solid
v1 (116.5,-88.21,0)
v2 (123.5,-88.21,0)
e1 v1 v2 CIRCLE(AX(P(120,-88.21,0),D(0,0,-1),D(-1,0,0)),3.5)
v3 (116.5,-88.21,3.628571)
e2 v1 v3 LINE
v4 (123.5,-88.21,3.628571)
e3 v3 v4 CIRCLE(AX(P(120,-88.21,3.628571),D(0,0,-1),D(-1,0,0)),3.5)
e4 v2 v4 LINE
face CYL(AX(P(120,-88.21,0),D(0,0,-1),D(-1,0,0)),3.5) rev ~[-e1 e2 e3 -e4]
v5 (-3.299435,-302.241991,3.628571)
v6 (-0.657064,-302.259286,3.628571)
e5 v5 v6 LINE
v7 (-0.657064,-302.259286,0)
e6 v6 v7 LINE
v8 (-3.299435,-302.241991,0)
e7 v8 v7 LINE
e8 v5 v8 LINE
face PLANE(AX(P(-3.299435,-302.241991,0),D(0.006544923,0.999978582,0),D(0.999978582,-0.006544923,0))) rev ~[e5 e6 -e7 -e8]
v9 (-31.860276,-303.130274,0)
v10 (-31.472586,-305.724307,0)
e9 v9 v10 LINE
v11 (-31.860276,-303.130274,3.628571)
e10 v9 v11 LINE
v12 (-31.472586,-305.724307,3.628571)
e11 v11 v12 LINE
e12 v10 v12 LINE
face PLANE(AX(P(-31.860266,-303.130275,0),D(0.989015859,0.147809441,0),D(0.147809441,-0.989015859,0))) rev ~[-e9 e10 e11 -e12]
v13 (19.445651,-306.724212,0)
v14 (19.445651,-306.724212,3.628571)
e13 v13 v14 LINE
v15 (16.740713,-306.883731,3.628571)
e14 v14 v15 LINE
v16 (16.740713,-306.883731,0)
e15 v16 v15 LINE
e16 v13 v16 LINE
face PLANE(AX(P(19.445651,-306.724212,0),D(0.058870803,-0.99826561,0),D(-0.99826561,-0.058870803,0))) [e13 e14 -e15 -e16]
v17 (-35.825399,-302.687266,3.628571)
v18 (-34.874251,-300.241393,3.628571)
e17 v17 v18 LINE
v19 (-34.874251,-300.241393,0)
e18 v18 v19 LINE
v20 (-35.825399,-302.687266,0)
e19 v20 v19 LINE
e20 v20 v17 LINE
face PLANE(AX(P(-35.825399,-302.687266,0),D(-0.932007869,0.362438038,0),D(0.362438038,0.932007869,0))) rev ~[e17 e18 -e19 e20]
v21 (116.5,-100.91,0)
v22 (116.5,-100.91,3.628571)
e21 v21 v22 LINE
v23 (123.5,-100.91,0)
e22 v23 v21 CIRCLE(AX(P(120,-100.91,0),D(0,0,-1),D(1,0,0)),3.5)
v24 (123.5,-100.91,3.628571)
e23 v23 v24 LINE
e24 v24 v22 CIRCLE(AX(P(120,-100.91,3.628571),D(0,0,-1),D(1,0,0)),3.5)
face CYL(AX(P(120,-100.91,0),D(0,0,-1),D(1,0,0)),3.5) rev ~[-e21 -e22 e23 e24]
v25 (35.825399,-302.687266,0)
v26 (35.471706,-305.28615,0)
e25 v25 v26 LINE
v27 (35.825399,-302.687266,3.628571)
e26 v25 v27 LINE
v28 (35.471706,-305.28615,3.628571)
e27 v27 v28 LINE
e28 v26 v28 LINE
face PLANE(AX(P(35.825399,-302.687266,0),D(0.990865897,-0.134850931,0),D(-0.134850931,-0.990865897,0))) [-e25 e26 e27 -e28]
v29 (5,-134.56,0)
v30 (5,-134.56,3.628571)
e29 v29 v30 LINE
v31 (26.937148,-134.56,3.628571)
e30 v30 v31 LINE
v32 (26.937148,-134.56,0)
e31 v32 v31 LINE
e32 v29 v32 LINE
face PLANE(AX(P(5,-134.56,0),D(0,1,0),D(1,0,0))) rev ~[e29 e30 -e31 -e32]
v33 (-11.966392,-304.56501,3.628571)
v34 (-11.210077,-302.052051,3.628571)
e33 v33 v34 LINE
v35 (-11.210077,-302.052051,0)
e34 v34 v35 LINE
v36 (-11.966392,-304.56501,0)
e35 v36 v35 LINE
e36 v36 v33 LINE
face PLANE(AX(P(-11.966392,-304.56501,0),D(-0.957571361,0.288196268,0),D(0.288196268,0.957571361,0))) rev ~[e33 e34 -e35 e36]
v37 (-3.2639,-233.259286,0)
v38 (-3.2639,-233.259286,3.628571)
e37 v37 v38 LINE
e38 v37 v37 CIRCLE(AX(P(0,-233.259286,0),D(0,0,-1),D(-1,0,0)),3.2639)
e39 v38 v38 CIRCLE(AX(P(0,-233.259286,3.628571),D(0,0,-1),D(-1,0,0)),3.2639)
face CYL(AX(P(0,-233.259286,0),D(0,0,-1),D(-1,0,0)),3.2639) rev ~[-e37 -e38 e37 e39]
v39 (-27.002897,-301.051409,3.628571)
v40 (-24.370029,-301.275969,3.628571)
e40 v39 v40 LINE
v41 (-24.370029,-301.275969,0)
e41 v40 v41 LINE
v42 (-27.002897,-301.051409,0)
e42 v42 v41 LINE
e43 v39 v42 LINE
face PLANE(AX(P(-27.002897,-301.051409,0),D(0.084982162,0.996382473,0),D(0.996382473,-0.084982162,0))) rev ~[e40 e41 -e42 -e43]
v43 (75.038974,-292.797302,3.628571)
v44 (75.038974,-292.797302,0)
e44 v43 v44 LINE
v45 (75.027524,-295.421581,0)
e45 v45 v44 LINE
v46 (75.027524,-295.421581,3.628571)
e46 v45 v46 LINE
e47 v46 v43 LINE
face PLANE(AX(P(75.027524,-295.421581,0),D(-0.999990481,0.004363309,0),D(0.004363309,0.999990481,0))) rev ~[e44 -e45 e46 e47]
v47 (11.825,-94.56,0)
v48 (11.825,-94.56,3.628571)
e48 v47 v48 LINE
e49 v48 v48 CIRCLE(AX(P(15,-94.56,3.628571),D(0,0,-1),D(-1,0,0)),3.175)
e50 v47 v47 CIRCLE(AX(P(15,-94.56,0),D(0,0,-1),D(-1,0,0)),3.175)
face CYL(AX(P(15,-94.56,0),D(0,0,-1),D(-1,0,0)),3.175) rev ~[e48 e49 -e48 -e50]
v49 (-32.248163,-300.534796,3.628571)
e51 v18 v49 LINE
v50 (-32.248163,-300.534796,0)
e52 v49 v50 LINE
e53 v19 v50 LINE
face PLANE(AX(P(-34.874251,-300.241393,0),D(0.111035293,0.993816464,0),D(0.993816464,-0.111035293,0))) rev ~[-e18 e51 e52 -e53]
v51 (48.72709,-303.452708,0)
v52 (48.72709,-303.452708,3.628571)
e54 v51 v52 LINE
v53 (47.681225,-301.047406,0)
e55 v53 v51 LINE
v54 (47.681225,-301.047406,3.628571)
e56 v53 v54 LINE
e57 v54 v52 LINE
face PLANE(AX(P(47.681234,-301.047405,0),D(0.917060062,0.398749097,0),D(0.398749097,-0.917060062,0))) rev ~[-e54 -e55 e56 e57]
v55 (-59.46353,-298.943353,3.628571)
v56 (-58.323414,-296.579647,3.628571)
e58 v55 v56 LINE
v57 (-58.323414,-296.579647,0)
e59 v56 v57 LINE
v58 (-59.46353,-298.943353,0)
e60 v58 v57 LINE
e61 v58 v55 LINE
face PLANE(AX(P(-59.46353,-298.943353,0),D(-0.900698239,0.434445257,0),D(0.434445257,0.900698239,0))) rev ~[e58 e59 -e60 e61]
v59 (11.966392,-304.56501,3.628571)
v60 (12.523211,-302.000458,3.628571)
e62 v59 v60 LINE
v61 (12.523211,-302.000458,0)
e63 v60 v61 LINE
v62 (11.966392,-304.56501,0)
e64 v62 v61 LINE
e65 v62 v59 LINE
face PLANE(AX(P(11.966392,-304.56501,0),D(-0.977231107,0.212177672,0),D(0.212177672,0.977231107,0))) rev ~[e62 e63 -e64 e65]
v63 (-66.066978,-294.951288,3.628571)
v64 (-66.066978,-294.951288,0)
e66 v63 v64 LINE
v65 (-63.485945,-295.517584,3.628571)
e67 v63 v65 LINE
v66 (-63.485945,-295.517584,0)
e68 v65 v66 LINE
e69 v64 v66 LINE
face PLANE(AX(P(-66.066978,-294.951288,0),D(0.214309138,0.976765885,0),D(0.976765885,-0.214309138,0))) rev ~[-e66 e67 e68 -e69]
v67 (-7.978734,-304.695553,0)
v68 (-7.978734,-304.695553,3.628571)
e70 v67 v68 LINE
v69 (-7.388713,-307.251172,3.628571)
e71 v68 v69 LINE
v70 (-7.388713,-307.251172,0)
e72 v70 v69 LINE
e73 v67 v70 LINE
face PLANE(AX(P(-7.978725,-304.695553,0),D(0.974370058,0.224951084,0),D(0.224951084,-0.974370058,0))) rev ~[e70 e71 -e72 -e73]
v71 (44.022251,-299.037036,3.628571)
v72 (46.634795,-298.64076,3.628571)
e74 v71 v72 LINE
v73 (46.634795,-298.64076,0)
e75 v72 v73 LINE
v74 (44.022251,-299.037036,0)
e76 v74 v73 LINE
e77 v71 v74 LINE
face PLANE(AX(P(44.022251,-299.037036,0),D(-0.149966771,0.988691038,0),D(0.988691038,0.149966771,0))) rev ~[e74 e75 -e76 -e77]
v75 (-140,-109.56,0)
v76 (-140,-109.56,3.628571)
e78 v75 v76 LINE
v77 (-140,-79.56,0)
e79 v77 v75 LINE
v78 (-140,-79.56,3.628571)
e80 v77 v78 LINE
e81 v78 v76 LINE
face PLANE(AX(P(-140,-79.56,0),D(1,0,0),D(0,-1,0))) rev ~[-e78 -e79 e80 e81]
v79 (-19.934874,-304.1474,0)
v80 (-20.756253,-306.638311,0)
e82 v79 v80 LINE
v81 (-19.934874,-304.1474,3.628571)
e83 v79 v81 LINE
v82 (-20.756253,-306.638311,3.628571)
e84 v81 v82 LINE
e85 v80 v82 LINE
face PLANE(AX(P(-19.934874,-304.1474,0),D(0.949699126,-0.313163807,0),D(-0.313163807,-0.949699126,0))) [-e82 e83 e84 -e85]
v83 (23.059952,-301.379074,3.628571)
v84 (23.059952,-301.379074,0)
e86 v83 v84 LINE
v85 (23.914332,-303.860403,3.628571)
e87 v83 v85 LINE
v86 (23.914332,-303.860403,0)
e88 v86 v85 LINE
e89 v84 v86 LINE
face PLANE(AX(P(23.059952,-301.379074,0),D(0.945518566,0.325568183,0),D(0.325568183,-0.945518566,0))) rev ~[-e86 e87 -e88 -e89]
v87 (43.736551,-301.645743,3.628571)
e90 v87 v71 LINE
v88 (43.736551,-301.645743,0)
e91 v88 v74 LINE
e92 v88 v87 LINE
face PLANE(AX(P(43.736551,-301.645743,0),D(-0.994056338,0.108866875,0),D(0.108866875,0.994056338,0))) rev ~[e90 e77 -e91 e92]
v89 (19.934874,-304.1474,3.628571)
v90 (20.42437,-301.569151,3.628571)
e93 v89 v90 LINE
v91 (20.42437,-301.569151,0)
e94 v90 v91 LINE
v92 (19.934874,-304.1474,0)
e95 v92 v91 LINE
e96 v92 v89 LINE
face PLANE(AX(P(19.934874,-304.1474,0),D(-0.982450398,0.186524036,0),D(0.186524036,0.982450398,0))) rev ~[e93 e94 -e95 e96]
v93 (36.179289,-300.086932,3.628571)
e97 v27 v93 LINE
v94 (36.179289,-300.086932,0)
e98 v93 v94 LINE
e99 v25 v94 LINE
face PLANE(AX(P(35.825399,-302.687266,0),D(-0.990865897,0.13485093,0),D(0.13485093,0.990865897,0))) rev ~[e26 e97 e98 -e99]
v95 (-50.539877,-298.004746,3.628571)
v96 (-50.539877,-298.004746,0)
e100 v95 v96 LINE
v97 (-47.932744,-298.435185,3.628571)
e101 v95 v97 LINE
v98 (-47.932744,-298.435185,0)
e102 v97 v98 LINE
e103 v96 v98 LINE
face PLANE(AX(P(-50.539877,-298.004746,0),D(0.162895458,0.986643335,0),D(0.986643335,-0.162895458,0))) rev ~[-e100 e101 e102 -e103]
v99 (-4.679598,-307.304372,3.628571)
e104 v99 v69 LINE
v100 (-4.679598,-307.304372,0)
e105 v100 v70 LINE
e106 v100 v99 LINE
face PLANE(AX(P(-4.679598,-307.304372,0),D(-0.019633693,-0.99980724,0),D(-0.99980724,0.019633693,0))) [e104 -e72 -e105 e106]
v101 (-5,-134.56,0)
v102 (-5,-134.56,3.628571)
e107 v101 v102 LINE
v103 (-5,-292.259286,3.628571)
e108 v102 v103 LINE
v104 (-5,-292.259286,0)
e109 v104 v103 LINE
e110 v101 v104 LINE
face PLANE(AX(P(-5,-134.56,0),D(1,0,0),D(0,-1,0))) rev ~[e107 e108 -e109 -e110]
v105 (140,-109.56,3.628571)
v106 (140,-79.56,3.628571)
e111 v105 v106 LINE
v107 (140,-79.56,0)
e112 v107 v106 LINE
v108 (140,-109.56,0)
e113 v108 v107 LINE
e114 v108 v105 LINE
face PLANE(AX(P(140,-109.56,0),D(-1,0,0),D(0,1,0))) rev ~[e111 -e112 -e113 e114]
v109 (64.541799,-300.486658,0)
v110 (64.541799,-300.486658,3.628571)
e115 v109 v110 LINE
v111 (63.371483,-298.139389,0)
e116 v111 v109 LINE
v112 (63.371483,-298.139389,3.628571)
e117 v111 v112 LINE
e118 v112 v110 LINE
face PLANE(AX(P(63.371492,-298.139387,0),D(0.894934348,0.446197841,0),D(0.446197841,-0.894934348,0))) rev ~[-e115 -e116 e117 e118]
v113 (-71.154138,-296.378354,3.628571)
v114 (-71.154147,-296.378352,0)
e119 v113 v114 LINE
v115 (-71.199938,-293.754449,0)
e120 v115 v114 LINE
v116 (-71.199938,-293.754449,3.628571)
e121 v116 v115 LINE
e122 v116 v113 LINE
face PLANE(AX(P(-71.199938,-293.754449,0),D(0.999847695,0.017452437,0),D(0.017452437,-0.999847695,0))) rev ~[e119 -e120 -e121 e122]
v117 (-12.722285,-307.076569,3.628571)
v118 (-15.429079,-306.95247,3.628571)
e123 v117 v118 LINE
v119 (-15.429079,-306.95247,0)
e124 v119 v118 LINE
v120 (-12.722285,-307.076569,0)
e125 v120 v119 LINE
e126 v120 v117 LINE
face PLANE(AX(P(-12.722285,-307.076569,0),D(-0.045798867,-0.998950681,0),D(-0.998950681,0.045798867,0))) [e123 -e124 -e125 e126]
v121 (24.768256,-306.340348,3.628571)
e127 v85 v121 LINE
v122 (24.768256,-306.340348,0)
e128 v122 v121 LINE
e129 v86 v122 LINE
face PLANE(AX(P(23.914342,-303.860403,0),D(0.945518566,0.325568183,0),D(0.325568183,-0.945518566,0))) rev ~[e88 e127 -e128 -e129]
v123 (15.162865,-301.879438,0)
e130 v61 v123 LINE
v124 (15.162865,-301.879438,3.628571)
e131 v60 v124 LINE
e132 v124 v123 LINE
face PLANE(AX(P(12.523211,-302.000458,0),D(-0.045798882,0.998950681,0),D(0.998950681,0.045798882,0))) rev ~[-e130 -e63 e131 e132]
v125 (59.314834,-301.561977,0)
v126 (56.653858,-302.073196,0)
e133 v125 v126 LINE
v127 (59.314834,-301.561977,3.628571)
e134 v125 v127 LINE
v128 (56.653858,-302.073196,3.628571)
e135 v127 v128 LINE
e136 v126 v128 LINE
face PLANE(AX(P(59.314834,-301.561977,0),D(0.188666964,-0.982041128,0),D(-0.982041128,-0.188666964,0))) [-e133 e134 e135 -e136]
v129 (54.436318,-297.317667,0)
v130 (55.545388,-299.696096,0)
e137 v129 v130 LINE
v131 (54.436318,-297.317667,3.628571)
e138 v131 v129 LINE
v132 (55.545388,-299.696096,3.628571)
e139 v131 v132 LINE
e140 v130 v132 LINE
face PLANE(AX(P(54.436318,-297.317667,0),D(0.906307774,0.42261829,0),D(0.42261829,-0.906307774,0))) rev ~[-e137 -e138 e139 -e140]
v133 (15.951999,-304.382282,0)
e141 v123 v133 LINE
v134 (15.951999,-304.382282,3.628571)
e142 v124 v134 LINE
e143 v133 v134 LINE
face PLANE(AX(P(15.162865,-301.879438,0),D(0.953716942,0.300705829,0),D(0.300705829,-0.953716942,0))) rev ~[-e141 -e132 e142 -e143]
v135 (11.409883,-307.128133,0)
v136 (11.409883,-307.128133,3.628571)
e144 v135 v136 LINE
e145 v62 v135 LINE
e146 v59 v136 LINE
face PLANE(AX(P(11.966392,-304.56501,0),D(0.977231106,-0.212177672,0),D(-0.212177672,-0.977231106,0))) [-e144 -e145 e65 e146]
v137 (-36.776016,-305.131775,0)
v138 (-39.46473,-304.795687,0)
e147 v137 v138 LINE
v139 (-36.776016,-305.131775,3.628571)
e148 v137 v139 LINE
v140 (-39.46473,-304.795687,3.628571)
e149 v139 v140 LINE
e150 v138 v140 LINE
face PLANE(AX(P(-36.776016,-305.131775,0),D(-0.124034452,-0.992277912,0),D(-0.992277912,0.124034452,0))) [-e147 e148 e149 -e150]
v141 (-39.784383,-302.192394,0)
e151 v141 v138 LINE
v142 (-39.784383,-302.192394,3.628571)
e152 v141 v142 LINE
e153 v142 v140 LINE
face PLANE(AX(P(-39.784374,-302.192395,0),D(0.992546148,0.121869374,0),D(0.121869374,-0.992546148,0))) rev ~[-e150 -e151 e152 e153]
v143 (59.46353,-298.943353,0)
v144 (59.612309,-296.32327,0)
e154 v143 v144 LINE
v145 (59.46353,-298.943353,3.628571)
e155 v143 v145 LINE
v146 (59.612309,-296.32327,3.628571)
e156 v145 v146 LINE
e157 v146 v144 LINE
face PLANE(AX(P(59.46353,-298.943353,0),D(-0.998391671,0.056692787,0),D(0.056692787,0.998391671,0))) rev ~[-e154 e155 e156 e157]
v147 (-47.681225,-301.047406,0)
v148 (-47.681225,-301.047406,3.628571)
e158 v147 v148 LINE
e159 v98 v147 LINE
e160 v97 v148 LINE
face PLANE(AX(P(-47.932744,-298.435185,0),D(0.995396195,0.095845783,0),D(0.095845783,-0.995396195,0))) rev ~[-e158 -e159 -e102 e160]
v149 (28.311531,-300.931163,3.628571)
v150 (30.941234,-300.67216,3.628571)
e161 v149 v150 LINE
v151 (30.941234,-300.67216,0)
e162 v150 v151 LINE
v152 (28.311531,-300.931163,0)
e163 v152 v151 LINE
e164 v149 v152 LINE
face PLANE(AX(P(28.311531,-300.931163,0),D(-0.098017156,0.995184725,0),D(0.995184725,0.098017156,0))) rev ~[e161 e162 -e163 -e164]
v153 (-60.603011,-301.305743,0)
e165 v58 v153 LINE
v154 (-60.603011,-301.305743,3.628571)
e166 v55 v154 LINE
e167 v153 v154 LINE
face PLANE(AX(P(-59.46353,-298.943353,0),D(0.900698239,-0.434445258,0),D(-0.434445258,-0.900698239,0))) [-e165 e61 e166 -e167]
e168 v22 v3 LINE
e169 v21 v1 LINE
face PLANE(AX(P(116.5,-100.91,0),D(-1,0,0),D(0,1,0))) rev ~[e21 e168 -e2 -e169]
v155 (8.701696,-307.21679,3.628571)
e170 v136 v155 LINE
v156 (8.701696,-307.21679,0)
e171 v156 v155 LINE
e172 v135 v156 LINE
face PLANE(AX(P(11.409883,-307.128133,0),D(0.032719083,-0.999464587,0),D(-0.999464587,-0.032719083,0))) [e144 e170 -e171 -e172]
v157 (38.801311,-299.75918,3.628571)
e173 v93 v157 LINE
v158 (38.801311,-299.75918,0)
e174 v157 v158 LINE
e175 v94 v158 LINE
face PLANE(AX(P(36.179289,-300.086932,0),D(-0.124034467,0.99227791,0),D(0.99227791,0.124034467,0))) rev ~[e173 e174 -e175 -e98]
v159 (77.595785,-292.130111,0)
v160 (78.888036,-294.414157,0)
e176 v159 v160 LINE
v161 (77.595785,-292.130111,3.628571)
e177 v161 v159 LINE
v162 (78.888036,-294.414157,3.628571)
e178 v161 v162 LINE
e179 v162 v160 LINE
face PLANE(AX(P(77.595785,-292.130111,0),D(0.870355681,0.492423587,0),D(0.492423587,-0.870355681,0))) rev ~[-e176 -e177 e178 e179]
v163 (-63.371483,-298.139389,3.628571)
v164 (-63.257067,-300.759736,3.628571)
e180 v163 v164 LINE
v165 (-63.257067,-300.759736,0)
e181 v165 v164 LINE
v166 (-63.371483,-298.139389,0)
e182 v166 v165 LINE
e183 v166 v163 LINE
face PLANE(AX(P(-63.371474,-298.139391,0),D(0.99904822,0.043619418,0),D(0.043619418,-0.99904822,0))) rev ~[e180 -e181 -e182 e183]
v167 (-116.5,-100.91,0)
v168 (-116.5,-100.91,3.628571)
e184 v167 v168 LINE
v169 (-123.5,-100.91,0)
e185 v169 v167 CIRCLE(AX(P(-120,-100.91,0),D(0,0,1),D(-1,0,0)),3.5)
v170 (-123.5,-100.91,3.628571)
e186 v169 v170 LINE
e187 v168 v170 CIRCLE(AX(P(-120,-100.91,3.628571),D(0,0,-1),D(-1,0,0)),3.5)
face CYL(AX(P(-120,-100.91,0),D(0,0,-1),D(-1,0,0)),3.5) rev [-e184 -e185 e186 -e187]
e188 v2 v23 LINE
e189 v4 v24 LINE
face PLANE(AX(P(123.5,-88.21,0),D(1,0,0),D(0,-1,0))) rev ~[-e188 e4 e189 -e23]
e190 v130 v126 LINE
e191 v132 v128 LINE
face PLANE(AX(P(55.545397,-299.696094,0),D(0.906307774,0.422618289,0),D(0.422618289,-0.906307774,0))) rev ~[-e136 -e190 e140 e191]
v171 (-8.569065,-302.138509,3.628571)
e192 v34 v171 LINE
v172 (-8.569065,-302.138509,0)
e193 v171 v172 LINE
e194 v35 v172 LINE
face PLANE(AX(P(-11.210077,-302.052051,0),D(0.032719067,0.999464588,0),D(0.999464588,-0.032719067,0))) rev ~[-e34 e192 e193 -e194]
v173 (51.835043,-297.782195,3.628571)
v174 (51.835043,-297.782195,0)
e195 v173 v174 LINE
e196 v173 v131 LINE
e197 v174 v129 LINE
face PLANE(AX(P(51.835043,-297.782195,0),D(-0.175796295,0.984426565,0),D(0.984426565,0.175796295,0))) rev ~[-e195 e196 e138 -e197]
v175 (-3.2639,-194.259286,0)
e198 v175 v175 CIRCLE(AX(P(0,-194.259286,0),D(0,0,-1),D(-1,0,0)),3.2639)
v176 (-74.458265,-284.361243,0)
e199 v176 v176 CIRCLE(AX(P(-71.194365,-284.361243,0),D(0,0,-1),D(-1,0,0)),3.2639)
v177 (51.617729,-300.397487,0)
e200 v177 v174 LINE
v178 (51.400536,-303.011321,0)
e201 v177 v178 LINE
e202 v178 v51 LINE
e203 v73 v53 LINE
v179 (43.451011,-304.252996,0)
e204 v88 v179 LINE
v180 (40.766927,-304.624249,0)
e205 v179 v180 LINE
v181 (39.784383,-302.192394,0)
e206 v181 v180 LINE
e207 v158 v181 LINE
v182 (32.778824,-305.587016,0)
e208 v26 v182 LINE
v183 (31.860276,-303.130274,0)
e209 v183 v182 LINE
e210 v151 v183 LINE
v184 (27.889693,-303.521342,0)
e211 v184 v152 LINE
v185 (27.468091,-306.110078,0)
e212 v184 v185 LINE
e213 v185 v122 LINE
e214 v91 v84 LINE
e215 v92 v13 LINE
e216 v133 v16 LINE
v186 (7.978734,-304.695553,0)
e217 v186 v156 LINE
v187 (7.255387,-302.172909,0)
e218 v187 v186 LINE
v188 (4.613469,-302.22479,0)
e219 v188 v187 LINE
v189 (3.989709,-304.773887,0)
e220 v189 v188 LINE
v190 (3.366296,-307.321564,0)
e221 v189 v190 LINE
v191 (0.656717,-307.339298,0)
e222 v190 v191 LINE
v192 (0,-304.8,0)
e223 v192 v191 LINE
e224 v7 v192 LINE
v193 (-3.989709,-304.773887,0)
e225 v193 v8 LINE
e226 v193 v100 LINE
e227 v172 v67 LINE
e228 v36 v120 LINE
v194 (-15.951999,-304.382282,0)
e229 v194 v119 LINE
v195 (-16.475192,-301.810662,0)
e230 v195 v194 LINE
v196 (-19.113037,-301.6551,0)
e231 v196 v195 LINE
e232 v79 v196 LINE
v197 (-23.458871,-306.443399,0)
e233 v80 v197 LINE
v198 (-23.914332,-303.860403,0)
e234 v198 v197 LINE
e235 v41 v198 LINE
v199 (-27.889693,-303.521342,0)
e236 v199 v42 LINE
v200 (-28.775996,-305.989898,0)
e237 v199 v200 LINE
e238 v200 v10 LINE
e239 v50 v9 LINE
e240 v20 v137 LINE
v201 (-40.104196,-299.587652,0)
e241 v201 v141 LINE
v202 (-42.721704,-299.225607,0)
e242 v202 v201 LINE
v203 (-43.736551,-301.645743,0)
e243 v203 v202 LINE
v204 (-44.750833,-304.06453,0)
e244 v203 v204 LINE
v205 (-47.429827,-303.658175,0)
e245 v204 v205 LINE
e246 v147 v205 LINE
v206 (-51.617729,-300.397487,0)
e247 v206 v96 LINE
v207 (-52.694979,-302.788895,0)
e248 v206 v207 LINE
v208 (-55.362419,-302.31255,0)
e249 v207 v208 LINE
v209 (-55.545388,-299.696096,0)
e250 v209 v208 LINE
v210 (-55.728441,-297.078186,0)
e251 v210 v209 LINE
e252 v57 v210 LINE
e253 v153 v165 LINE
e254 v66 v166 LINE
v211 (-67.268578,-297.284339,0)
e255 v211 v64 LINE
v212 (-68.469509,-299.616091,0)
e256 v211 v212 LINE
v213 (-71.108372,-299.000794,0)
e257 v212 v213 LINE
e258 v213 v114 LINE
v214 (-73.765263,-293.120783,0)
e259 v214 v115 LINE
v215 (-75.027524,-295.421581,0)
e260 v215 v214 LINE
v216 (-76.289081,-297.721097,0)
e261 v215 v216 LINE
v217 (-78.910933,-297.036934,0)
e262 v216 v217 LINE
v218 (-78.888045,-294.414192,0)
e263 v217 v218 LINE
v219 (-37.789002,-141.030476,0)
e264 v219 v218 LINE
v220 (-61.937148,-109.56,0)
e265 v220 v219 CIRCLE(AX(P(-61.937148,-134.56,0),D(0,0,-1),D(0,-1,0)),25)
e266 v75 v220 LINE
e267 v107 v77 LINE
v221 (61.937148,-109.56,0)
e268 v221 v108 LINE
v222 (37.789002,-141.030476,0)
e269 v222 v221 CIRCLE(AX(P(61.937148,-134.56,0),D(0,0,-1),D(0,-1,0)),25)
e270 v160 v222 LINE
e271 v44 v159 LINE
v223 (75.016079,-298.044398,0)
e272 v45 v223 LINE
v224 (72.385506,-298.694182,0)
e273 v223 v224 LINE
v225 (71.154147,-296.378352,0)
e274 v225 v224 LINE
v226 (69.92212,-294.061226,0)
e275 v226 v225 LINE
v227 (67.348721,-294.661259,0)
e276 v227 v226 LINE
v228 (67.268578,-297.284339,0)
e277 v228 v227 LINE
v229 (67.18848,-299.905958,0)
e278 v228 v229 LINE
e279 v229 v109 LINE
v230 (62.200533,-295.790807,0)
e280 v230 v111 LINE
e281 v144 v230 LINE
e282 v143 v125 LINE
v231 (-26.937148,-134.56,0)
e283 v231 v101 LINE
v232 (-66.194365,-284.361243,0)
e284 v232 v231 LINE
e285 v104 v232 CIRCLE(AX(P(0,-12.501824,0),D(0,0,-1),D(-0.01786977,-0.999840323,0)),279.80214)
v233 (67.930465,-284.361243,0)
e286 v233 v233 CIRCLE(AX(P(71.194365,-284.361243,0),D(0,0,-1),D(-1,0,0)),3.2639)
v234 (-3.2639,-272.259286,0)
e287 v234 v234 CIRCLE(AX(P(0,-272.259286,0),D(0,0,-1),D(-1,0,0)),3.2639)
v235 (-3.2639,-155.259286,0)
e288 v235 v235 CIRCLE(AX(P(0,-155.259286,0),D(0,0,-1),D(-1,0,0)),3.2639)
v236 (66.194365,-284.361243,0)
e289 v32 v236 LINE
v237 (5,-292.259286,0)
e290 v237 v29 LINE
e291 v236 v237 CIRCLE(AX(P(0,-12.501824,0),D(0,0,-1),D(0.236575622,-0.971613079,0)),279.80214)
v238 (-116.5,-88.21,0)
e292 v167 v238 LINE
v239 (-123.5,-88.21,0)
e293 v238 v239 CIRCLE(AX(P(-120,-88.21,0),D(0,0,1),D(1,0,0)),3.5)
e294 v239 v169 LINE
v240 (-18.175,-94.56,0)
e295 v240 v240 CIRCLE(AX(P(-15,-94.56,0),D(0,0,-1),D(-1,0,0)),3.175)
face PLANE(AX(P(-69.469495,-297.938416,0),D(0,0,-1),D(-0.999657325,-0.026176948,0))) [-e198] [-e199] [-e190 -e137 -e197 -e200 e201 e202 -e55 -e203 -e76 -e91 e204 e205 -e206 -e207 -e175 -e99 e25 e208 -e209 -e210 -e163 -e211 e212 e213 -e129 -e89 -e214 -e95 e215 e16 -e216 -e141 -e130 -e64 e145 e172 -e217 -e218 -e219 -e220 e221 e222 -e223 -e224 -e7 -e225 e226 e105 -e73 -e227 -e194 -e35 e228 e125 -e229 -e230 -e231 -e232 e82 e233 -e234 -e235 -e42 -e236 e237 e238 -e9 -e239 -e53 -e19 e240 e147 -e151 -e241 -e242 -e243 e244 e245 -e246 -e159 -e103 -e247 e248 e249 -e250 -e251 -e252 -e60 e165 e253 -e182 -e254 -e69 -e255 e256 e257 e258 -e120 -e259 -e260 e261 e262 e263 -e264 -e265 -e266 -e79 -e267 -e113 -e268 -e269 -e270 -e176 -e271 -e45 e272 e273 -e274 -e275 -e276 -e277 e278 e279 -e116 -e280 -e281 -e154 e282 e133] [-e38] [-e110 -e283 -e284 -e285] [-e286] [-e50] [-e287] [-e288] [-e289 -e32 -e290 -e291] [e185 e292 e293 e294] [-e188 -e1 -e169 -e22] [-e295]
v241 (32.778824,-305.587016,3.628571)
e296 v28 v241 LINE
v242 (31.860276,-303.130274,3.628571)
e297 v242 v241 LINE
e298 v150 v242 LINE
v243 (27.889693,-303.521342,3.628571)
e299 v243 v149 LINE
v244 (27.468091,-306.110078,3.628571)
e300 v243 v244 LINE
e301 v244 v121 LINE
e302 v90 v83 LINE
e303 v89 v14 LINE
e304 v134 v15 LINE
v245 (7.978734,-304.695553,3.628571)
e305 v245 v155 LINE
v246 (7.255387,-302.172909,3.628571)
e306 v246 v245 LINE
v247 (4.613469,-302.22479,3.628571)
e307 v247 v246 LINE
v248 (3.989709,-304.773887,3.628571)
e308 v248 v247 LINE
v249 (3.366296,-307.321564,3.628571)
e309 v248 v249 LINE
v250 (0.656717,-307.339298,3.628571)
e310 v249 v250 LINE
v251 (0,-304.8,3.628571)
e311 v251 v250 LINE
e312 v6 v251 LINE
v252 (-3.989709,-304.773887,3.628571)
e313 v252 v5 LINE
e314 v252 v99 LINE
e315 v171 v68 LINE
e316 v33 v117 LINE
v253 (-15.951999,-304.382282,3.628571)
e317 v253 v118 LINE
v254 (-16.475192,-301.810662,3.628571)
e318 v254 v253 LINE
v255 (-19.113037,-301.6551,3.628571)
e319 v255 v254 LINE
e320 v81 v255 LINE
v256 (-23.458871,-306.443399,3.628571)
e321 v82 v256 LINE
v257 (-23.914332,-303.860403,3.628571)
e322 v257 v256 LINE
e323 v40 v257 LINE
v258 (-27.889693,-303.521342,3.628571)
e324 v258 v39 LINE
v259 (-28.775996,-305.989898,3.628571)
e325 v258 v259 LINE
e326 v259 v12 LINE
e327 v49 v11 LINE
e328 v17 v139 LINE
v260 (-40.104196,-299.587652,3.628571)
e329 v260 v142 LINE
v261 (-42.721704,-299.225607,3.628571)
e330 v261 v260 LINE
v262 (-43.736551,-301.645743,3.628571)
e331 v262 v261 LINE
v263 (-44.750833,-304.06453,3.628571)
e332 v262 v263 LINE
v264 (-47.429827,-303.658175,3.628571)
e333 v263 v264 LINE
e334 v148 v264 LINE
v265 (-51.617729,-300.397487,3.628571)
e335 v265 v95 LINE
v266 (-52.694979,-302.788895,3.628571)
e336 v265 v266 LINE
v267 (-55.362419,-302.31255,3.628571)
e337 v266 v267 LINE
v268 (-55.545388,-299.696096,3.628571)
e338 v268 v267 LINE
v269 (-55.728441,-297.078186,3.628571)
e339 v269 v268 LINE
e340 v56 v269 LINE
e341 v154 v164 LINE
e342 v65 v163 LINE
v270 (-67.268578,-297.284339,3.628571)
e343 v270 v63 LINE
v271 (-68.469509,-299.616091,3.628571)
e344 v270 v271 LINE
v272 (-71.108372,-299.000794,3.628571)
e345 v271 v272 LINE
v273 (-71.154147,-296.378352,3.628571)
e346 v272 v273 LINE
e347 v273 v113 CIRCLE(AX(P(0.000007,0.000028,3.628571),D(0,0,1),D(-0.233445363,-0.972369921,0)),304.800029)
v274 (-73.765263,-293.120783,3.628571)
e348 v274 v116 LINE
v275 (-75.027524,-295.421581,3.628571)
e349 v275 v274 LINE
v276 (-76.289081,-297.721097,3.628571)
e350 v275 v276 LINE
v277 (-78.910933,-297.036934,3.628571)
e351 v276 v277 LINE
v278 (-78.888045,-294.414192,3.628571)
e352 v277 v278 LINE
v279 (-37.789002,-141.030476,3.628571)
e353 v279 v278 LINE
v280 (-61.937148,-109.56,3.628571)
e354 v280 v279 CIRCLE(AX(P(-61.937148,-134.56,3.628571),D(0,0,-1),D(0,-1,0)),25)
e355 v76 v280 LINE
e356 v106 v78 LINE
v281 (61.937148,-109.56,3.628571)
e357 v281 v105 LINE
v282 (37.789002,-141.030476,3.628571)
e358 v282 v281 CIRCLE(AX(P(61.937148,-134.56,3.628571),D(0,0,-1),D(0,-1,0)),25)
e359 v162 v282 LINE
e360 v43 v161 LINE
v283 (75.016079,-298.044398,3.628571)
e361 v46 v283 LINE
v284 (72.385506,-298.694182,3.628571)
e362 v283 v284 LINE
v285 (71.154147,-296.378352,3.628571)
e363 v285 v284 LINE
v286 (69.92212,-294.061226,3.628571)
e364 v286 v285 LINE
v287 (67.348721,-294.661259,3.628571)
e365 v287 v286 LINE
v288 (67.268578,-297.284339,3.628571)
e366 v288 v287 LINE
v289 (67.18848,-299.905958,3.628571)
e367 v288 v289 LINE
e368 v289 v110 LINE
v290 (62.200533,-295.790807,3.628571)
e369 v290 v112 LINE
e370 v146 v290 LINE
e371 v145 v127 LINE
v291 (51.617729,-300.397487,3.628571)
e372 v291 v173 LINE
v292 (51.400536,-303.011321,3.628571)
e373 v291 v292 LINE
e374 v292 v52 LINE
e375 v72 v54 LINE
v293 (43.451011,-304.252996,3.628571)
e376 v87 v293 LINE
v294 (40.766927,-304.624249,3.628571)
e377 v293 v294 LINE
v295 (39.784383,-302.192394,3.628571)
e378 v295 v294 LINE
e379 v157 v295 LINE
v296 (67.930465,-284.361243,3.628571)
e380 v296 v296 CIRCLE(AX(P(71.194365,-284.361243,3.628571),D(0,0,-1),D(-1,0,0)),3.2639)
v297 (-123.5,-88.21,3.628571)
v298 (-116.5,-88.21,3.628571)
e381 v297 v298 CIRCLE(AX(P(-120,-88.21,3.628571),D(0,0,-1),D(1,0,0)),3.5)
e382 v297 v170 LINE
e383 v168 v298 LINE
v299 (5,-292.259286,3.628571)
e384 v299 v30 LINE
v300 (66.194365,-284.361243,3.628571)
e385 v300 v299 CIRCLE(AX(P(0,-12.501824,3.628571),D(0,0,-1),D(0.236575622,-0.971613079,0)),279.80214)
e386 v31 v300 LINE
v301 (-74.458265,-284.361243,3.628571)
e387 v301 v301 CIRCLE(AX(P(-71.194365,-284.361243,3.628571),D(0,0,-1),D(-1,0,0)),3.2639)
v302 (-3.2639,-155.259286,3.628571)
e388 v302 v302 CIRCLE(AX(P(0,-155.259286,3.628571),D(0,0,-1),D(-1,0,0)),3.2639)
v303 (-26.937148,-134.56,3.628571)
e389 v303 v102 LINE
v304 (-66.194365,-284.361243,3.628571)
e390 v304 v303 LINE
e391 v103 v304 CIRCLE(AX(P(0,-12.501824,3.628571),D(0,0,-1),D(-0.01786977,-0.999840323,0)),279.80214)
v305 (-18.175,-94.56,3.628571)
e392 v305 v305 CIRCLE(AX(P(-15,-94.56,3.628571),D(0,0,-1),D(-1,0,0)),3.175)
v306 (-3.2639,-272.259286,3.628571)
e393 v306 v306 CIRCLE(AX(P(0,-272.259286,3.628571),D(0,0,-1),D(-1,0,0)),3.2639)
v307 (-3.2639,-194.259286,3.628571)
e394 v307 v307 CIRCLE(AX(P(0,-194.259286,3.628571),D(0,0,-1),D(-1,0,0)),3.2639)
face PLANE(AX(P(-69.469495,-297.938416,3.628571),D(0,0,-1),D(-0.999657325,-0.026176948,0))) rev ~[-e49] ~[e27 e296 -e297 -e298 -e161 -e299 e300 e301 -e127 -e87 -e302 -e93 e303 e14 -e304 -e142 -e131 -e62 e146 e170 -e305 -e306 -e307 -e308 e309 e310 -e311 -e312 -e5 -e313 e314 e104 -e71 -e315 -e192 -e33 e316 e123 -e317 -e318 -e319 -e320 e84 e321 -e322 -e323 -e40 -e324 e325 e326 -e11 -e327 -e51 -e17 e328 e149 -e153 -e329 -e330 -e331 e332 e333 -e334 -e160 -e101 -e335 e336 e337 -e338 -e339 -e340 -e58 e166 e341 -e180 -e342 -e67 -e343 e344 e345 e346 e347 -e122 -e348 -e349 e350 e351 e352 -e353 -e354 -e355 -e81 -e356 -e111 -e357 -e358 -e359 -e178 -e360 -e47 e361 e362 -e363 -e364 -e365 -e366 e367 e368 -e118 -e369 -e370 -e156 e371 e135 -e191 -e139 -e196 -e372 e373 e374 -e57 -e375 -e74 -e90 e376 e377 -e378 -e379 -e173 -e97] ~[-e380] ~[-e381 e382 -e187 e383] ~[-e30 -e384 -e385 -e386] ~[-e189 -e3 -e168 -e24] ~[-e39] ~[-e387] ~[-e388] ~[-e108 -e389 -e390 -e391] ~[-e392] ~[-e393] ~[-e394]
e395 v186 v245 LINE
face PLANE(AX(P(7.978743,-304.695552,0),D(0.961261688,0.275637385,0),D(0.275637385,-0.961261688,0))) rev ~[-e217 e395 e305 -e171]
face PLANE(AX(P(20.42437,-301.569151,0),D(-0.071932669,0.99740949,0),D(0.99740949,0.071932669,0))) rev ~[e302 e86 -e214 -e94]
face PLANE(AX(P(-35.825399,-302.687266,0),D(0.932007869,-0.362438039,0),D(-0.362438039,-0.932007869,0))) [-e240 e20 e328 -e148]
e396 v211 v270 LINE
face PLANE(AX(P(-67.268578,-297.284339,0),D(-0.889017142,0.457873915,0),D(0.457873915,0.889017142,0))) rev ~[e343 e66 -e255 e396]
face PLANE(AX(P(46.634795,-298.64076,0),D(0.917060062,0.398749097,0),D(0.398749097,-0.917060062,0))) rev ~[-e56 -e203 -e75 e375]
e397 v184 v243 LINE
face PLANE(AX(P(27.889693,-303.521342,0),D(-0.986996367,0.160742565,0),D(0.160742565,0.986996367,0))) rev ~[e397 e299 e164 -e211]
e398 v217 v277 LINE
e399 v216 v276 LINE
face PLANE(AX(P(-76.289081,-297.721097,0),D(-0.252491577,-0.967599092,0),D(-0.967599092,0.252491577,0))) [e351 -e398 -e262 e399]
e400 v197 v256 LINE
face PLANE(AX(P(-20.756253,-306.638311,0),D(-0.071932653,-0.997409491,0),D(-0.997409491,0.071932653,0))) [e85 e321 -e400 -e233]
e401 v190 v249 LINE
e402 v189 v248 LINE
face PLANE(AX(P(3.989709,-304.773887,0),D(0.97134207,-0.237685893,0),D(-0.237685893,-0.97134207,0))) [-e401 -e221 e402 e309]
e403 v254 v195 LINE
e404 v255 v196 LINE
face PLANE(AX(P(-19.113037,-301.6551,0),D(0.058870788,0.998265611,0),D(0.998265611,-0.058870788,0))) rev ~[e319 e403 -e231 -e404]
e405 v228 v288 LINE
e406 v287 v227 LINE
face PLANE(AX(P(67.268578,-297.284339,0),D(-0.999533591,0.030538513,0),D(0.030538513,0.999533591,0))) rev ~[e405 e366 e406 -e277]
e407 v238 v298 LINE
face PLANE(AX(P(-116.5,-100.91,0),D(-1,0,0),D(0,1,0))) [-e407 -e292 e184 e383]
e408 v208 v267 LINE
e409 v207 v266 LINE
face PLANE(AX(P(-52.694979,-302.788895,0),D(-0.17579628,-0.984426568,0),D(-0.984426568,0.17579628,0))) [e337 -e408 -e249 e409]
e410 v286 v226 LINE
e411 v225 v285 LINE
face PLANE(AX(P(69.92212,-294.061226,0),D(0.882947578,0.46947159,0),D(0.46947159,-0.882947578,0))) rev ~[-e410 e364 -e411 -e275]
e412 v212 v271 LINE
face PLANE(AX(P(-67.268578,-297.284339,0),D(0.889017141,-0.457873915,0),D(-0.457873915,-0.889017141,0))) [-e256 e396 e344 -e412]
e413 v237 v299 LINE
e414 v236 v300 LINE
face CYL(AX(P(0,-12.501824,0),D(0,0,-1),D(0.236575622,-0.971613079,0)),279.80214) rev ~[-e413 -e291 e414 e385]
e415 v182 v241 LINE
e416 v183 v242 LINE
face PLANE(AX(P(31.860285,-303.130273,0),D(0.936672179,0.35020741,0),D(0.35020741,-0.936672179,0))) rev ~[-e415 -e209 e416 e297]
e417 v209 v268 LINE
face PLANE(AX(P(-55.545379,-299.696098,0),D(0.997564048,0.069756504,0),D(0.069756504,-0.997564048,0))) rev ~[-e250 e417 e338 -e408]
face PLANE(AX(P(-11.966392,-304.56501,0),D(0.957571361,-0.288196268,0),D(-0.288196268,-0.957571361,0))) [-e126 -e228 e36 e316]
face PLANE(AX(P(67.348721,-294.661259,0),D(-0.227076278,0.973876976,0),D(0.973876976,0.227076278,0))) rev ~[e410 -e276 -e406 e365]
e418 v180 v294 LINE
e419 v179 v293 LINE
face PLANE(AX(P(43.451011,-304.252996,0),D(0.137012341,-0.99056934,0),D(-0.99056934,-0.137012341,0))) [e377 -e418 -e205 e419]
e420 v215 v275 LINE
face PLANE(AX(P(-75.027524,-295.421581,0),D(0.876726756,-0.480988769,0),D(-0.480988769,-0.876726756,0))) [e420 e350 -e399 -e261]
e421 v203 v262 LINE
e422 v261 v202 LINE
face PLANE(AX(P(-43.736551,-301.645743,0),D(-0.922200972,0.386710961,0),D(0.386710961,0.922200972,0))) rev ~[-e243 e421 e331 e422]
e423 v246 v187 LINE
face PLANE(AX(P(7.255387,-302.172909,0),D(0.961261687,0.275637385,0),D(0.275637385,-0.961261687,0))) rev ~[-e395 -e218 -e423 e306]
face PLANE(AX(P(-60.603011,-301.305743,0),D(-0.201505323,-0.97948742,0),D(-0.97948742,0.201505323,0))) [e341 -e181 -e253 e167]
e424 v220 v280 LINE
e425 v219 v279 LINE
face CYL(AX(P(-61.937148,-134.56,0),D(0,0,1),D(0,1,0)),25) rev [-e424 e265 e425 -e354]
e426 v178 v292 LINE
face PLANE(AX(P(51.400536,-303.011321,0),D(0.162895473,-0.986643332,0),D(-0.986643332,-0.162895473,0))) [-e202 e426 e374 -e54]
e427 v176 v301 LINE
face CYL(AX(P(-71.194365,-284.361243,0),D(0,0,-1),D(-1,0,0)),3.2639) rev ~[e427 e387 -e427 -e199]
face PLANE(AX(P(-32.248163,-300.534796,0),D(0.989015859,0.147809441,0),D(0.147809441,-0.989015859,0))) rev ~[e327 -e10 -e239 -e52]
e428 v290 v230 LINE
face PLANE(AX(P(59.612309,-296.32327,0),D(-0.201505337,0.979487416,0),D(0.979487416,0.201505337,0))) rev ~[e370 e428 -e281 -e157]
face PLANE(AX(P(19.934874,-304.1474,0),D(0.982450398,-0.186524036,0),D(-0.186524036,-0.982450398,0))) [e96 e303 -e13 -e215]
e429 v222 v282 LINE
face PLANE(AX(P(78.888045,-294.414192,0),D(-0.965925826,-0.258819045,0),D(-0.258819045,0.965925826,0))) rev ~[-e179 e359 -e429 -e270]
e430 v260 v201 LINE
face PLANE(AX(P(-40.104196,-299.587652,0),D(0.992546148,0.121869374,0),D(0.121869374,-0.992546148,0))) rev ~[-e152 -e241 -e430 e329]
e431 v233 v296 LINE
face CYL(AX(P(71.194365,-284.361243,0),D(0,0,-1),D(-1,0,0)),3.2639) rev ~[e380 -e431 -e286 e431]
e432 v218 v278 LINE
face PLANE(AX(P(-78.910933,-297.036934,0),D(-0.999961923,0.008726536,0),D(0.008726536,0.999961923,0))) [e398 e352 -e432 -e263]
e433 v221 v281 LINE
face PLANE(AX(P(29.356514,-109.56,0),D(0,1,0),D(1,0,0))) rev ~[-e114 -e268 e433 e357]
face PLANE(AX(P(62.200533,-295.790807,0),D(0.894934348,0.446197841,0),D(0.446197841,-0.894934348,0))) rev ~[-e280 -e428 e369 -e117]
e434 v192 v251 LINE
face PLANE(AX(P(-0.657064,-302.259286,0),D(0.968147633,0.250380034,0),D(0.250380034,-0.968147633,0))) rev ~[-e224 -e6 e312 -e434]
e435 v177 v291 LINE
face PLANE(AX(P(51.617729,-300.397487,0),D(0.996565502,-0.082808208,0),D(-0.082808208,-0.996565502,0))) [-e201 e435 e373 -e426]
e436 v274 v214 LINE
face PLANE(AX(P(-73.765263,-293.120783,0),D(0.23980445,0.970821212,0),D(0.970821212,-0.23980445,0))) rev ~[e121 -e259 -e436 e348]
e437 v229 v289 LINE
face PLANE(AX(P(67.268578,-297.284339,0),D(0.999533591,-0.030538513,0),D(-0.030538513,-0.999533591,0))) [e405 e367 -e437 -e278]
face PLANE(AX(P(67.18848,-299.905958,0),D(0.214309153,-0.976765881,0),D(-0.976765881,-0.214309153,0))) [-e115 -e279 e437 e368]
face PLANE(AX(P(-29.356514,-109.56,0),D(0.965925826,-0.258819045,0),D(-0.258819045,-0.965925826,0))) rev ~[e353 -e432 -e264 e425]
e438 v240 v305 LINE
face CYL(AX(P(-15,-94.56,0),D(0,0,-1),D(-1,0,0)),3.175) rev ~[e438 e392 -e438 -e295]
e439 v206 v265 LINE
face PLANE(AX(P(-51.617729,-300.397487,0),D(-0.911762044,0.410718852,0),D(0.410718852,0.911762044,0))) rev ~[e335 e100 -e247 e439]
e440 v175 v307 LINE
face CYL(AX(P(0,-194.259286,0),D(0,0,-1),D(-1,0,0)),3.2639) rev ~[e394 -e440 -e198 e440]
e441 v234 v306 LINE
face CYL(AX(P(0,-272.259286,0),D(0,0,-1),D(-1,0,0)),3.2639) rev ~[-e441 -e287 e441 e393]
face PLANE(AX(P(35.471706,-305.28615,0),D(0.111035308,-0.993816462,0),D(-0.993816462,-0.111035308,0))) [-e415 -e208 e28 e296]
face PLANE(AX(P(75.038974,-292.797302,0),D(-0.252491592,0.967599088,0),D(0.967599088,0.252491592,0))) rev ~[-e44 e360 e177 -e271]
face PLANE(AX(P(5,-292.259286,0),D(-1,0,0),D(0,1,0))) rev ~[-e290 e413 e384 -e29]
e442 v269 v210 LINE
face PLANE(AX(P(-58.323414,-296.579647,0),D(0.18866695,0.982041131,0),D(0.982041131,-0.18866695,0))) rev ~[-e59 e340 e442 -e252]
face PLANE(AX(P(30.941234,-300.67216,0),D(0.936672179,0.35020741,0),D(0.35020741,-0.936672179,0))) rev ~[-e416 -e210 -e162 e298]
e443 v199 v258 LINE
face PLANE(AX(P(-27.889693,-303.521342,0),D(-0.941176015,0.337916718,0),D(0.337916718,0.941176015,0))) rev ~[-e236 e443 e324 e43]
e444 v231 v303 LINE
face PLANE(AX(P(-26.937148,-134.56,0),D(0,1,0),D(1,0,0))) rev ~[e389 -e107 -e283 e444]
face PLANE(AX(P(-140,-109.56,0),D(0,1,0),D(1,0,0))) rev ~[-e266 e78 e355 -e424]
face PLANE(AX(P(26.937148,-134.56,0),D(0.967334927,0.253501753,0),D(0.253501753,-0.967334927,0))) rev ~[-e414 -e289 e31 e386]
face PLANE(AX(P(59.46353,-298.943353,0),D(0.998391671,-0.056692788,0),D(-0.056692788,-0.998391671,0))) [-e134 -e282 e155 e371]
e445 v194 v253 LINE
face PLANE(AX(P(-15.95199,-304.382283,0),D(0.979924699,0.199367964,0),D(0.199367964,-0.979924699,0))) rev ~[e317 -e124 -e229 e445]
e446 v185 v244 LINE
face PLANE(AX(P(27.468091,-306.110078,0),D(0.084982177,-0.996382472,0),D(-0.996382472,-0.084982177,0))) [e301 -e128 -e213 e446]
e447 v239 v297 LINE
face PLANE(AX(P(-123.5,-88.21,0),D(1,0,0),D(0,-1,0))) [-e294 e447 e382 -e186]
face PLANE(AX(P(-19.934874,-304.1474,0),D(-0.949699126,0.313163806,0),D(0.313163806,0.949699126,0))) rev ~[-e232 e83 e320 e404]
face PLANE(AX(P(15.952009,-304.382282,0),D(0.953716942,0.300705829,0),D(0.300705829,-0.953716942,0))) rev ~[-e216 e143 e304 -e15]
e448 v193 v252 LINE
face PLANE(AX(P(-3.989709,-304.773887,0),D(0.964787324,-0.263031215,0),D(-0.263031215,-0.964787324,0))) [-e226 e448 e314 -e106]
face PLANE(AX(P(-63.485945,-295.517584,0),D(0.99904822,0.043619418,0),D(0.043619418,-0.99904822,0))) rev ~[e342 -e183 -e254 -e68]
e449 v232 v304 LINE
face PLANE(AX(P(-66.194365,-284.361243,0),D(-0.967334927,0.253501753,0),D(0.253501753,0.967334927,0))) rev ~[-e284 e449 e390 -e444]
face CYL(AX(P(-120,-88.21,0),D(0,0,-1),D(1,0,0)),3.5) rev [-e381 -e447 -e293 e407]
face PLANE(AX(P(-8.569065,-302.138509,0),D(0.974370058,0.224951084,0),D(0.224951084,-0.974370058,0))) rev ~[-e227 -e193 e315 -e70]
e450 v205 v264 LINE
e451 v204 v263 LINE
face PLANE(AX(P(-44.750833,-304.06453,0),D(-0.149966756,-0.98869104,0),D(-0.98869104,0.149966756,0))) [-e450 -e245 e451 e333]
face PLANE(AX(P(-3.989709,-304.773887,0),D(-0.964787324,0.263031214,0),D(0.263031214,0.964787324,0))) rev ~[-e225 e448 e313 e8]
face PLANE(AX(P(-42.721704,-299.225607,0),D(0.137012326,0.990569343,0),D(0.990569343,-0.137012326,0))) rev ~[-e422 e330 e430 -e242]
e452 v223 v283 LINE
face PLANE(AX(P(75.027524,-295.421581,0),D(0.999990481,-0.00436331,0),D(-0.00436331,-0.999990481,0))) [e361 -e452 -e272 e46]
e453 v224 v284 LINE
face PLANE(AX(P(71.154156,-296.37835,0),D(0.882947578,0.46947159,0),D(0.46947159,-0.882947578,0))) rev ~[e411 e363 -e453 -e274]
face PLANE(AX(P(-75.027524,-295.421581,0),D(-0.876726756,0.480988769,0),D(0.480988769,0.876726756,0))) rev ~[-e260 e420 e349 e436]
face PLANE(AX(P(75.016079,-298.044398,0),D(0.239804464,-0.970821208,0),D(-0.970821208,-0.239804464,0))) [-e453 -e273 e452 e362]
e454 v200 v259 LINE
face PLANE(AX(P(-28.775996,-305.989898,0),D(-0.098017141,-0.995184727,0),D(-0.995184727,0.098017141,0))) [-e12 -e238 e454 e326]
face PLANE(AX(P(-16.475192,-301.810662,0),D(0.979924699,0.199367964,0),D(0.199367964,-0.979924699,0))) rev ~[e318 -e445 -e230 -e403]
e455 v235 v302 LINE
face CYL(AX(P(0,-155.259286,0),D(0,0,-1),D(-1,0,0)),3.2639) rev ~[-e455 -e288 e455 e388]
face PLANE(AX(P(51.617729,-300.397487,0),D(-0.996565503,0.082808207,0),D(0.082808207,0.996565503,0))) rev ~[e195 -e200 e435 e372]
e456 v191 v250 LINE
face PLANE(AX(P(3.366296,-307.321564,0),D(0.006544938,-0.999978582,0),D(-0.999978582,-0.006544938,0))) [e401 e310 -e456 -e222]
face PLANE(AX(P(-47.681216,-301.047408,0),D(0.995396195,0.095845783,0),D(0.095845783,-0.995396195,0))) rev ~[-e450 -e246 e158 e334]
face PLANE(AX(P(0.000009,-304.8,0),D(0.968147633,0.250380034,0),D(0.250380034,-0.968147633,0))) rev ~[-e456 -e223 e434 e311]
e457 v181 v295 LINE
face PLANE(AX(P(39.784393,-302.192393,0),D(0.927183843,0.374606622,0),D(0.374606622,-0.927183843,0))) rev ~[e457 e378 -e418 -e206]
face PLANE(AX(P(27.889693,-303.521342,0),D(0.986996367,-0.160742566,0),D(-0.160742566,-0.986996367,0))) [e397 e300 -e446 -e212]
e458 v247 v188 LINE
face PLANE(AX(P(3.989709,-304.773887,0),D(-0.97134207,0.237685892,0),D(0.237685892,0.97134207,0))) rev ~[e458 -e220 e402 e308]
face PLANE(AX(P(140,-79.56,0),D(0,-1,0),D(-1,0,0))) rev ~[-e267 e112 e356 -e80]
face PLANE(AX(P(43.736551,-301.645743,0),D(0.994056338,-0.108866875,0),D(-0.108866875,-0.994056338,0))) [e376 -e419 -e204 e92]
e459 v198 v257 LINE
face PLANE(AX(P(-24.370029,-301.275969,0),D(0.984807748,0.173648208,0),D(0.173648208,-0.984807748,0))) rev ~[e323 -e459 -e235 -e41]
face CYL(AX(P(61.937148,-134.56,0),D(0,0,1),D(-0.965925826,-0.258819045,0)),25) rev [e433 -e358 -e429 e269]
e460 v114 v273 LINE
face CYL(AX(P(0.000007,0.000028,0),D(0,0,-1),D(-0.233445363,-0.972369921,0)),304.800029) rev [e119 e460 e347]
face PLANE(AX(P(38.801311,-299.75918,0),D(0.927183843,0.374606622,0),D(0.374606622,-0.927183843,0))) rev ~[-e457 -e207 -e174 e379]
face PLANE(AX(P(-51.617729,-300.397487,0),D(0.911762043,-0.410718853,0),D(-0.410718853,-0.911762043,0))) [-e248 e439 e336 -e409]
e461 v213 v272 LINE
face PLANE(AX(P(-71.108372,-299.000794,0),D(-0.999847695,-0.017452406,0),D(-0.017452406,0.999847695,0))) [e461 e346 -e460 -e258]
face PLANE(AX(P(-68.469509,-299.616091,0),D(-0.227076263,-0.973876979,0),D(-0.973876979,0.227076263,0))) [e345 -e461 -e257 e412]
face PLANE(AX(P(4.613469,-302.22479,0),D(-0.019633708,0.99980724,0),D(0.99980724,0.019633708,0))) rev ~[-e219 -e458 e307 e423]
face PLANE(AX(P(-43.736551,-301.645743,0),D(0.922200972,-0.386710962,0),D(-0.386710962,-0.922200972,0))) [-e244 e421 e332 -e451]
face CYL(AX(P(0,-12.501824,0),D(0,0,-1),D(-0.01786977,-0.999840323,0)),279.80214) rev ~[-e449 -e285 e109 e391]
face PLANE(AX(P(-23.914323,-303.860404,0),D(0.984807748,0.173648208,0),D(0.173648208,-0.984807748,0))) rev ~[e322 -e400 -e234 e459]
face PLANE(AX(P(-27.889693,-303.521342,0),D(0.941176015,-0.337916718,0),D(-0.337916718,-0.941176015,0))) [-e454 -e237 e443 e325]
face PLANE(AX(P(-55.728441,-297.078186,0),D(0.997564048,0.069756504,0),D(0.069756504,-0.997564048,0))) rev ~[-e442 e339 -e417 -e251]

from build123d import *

# Parameters (mm, degrees)
BOSS_EXTRUDE2_DEPTH = 3.628571429
FILLET1_R           = 25
BOSS_EXTRUDE4_DEPTH = 3.628571429
CUT_EXTRUDE2_DEPTH  = 336.434355024
CIRPATTERN8_COUNT   = 20
CIRPATTERN8_ANGLE   = 28.5
SKETCH5_R           = 3.175
CUT_EXTRUDE3_DEPTH  = 338.743409804
SKETCH17_R          = 3.2639
CUT_EXTRUDE4_DEPTH  = 338.743409804


with BuildPart() as part:
    # Sketch3 → Boss-Extrude2 (new body)
    with BuildSketch(Plane.XY):
        with BuildLine():
            Line((-140, -79.56), (-140, -109.56))
            Line((-140, -109.56), (-29.356513523, -109.56))
            Line((-29.356513523, -109.56), (-78.888044947, -294.414191853))
            ThreePointArc((-78.888044947, -294.414191853), (0, -304.8), (78.888044947, -294.414191853))
            Line((78.888044947, -294.414191853), (29.356513523, -109.56))
            Line((29.356513523, -109.56), (140, -109.56))
            Line((140, -109.56), (140, -79.56))
            Line((140, -79.56), (-140, -79.56))
        make_face()
    extrude(amount=BOSS_EXTRUDE2_DEPTH)

    # Fillet1
    fillet1_edges = [part.edges().sort_by_distance(p)[0] for p in [
        (29.356513523, -109.56, 1.814285714),
        (-29.356513523, -109.56, 1.814285714),
    ]]
    fillet(fillet1_edges, radius=FILLET1_R)

    # Sketch14 → Boss-Extrude4 (add)
    with BuildSketch(Plane(origin=(0, 0, 0), x_dir=(-1, 0, 0), z_dir=(0, 0, -1))):
        with BuildLine():
            Line((78.910933272, -297.036934084), (78.888044947, -294.414191853))
            ThreePointArc((78.888044947, -294.414191853), (76.959432674, -294.924203351), (75.027523715, -295.421581279))
            Line((75.027523715, -295.421581279), (76.289081309, -297.721097125))
            Line((76.289081309, -297.721097125), (78.910933272, -297.036934084))
        make_face()
    boss_extrude4 = extrude(amount=-BOSS_EXTRUDE4_DEPTH)

    # Sketch16 → Cut-Extrude2 (cut, symmetric)
    with BuildSketch(Plane(origin=(0, 0, 0), x_dir=(-1, 0, 0), z_dir=(0, 0, -1))):
        Polygon((372.937709596, -838.440145613), (75.027523715, -295.421581279), (73.765262731, -293.12078332), (71.19993834, -293.754449124), (71.154137831, -296.378353915), (60.344615656, -915.654378233), (357.400151379, -2118.250141136), (669.993245319, -2041.035908516), align=None)
    cut_extrude2 = extrude(amount=CUT_EXTRUDE2_DEPTH, both=True, mode=Mode.SUBTRACT)

    # CirPattern8: Boss-Extrude4, Cut-Extrude2 ×20 about axis
    cirpattern8_axis = Axis((0, 0, 0), (0, 0, 1))
    add([boss_extrude4.rotate(cirpattern8_axis, i * CIRPATTERN8_ANGLE / (CIRPATTERN8_COUNT - 1)) for i in range(1, CIRPATTERN8_COUNT)])
    add([cut_extrude2.rotate(cirpattern8_axis, i * CIRPATTERN8_ANGLE / (CIRPATTERN8_COUNT - 1)) for i in range(1, CIRPATTERN8_COUNT)], mode=Mode.SUBTRACT)

    # Sketch5 → Cut-Extrude3 (cut, through all)
    with BuildSketch(Plane(origin=(0, 0, 0), x_dir=(-1, 0, 0), z_dir=(0, 0, -1))):
        with Locations((-15, -94.56)):
            Circle(SKETCH5_R)
        with Locations((15, -94.56)):
            Circle(SKETCH5_R)
        with BuildLine():
            Line((-123.5, -94.56), (-123.5, -100.91))
            ThreePointArc((-123.5, -100.91), (-120, -104.41), (-116.5, -100.91))
            Line((-116.5, -100.91), (-116.5, -94.56))
            Line((-116.5, -94.56), (-116.5, -88.21))
            ThreePointArc((-116.5, -88.21), (-120, -84.71), (-123.5, -88.21))
            Line((-123.5, -88.21), (-123.5, -94.56))
        make_face()
        with BuildLine():
            Line((116.5, -94.56), (116.5, -88.21))
            ThreePointArc((116.5, -88.21), (120, -84.71), (123.5, -88.21))
            Line((123.5, -88.21), (123.5, -94.56))
            Line((123.5, -94.56), (123.5, -100.91))
            ThreePointArc((123.5, -100.91), (120, -104.41), (116.5, -100.91))
            Line((116.5, -100.91), (116.5, -94.56))
        make_face()
    extrude(amount=-CUT_EXTRUDE3_DEPTH, mode=Mode.SUBTRACT)

    # Sketch17 → Cut-Extrude4 (cut, through all)
    with BuildSketch(Plane(origin=(0, 0, 0), x_dir=(-1, 0, 0), z_dir=(0, 0, -1))):
        with BuildLine():
            Line((66.194365296, -284.361242536), (26.937147844, -134.56))
            Line((26.937147844, -134.56), (5, -134.56))
            Line((5, -134.56), (5, -292.259285824))
            ThreePointArc((5, -292.259285824), (35.815557854, -290.00224429), (66.194365296, -284.361242536))
        make_face()
        with BuildLine():
            ThreePointArc((-66.194365296, -284.361242536), (-35.815557854, -290.00224429), (-5, -292.259285824))
            Line((-5, -292.259285824), (-5, -134.56))
            Line((-5, -134.56), (-26.937147844, -134.56))
            Line((-26.937147844, -134.56), (-66.194365296, -284.361242536))
        make_face()
        with Locations((0, -272.259285824)):
            Circle(SKETCH17_R)
        with Locations((0, -233.259285824)):
            Circle(SKETCH17_R)
        with Locations((0, -194.259285824)):
            Circle(SKETCH17_R)
        with Locations((0, -155.259285824)):
            Circle(SKETCH17_R)
        with Locations((-71.194365296, -284.361242536)):
            Circle(SKETCH17_R)
        with Locations((71.194365296, -284.361242536)):
            Circle(SKETCH17_R)
    extrude(amount=-CUT_EXTRUDE4_DEPTH, mode=Mode.SUBTRACT)


solid = part.part
